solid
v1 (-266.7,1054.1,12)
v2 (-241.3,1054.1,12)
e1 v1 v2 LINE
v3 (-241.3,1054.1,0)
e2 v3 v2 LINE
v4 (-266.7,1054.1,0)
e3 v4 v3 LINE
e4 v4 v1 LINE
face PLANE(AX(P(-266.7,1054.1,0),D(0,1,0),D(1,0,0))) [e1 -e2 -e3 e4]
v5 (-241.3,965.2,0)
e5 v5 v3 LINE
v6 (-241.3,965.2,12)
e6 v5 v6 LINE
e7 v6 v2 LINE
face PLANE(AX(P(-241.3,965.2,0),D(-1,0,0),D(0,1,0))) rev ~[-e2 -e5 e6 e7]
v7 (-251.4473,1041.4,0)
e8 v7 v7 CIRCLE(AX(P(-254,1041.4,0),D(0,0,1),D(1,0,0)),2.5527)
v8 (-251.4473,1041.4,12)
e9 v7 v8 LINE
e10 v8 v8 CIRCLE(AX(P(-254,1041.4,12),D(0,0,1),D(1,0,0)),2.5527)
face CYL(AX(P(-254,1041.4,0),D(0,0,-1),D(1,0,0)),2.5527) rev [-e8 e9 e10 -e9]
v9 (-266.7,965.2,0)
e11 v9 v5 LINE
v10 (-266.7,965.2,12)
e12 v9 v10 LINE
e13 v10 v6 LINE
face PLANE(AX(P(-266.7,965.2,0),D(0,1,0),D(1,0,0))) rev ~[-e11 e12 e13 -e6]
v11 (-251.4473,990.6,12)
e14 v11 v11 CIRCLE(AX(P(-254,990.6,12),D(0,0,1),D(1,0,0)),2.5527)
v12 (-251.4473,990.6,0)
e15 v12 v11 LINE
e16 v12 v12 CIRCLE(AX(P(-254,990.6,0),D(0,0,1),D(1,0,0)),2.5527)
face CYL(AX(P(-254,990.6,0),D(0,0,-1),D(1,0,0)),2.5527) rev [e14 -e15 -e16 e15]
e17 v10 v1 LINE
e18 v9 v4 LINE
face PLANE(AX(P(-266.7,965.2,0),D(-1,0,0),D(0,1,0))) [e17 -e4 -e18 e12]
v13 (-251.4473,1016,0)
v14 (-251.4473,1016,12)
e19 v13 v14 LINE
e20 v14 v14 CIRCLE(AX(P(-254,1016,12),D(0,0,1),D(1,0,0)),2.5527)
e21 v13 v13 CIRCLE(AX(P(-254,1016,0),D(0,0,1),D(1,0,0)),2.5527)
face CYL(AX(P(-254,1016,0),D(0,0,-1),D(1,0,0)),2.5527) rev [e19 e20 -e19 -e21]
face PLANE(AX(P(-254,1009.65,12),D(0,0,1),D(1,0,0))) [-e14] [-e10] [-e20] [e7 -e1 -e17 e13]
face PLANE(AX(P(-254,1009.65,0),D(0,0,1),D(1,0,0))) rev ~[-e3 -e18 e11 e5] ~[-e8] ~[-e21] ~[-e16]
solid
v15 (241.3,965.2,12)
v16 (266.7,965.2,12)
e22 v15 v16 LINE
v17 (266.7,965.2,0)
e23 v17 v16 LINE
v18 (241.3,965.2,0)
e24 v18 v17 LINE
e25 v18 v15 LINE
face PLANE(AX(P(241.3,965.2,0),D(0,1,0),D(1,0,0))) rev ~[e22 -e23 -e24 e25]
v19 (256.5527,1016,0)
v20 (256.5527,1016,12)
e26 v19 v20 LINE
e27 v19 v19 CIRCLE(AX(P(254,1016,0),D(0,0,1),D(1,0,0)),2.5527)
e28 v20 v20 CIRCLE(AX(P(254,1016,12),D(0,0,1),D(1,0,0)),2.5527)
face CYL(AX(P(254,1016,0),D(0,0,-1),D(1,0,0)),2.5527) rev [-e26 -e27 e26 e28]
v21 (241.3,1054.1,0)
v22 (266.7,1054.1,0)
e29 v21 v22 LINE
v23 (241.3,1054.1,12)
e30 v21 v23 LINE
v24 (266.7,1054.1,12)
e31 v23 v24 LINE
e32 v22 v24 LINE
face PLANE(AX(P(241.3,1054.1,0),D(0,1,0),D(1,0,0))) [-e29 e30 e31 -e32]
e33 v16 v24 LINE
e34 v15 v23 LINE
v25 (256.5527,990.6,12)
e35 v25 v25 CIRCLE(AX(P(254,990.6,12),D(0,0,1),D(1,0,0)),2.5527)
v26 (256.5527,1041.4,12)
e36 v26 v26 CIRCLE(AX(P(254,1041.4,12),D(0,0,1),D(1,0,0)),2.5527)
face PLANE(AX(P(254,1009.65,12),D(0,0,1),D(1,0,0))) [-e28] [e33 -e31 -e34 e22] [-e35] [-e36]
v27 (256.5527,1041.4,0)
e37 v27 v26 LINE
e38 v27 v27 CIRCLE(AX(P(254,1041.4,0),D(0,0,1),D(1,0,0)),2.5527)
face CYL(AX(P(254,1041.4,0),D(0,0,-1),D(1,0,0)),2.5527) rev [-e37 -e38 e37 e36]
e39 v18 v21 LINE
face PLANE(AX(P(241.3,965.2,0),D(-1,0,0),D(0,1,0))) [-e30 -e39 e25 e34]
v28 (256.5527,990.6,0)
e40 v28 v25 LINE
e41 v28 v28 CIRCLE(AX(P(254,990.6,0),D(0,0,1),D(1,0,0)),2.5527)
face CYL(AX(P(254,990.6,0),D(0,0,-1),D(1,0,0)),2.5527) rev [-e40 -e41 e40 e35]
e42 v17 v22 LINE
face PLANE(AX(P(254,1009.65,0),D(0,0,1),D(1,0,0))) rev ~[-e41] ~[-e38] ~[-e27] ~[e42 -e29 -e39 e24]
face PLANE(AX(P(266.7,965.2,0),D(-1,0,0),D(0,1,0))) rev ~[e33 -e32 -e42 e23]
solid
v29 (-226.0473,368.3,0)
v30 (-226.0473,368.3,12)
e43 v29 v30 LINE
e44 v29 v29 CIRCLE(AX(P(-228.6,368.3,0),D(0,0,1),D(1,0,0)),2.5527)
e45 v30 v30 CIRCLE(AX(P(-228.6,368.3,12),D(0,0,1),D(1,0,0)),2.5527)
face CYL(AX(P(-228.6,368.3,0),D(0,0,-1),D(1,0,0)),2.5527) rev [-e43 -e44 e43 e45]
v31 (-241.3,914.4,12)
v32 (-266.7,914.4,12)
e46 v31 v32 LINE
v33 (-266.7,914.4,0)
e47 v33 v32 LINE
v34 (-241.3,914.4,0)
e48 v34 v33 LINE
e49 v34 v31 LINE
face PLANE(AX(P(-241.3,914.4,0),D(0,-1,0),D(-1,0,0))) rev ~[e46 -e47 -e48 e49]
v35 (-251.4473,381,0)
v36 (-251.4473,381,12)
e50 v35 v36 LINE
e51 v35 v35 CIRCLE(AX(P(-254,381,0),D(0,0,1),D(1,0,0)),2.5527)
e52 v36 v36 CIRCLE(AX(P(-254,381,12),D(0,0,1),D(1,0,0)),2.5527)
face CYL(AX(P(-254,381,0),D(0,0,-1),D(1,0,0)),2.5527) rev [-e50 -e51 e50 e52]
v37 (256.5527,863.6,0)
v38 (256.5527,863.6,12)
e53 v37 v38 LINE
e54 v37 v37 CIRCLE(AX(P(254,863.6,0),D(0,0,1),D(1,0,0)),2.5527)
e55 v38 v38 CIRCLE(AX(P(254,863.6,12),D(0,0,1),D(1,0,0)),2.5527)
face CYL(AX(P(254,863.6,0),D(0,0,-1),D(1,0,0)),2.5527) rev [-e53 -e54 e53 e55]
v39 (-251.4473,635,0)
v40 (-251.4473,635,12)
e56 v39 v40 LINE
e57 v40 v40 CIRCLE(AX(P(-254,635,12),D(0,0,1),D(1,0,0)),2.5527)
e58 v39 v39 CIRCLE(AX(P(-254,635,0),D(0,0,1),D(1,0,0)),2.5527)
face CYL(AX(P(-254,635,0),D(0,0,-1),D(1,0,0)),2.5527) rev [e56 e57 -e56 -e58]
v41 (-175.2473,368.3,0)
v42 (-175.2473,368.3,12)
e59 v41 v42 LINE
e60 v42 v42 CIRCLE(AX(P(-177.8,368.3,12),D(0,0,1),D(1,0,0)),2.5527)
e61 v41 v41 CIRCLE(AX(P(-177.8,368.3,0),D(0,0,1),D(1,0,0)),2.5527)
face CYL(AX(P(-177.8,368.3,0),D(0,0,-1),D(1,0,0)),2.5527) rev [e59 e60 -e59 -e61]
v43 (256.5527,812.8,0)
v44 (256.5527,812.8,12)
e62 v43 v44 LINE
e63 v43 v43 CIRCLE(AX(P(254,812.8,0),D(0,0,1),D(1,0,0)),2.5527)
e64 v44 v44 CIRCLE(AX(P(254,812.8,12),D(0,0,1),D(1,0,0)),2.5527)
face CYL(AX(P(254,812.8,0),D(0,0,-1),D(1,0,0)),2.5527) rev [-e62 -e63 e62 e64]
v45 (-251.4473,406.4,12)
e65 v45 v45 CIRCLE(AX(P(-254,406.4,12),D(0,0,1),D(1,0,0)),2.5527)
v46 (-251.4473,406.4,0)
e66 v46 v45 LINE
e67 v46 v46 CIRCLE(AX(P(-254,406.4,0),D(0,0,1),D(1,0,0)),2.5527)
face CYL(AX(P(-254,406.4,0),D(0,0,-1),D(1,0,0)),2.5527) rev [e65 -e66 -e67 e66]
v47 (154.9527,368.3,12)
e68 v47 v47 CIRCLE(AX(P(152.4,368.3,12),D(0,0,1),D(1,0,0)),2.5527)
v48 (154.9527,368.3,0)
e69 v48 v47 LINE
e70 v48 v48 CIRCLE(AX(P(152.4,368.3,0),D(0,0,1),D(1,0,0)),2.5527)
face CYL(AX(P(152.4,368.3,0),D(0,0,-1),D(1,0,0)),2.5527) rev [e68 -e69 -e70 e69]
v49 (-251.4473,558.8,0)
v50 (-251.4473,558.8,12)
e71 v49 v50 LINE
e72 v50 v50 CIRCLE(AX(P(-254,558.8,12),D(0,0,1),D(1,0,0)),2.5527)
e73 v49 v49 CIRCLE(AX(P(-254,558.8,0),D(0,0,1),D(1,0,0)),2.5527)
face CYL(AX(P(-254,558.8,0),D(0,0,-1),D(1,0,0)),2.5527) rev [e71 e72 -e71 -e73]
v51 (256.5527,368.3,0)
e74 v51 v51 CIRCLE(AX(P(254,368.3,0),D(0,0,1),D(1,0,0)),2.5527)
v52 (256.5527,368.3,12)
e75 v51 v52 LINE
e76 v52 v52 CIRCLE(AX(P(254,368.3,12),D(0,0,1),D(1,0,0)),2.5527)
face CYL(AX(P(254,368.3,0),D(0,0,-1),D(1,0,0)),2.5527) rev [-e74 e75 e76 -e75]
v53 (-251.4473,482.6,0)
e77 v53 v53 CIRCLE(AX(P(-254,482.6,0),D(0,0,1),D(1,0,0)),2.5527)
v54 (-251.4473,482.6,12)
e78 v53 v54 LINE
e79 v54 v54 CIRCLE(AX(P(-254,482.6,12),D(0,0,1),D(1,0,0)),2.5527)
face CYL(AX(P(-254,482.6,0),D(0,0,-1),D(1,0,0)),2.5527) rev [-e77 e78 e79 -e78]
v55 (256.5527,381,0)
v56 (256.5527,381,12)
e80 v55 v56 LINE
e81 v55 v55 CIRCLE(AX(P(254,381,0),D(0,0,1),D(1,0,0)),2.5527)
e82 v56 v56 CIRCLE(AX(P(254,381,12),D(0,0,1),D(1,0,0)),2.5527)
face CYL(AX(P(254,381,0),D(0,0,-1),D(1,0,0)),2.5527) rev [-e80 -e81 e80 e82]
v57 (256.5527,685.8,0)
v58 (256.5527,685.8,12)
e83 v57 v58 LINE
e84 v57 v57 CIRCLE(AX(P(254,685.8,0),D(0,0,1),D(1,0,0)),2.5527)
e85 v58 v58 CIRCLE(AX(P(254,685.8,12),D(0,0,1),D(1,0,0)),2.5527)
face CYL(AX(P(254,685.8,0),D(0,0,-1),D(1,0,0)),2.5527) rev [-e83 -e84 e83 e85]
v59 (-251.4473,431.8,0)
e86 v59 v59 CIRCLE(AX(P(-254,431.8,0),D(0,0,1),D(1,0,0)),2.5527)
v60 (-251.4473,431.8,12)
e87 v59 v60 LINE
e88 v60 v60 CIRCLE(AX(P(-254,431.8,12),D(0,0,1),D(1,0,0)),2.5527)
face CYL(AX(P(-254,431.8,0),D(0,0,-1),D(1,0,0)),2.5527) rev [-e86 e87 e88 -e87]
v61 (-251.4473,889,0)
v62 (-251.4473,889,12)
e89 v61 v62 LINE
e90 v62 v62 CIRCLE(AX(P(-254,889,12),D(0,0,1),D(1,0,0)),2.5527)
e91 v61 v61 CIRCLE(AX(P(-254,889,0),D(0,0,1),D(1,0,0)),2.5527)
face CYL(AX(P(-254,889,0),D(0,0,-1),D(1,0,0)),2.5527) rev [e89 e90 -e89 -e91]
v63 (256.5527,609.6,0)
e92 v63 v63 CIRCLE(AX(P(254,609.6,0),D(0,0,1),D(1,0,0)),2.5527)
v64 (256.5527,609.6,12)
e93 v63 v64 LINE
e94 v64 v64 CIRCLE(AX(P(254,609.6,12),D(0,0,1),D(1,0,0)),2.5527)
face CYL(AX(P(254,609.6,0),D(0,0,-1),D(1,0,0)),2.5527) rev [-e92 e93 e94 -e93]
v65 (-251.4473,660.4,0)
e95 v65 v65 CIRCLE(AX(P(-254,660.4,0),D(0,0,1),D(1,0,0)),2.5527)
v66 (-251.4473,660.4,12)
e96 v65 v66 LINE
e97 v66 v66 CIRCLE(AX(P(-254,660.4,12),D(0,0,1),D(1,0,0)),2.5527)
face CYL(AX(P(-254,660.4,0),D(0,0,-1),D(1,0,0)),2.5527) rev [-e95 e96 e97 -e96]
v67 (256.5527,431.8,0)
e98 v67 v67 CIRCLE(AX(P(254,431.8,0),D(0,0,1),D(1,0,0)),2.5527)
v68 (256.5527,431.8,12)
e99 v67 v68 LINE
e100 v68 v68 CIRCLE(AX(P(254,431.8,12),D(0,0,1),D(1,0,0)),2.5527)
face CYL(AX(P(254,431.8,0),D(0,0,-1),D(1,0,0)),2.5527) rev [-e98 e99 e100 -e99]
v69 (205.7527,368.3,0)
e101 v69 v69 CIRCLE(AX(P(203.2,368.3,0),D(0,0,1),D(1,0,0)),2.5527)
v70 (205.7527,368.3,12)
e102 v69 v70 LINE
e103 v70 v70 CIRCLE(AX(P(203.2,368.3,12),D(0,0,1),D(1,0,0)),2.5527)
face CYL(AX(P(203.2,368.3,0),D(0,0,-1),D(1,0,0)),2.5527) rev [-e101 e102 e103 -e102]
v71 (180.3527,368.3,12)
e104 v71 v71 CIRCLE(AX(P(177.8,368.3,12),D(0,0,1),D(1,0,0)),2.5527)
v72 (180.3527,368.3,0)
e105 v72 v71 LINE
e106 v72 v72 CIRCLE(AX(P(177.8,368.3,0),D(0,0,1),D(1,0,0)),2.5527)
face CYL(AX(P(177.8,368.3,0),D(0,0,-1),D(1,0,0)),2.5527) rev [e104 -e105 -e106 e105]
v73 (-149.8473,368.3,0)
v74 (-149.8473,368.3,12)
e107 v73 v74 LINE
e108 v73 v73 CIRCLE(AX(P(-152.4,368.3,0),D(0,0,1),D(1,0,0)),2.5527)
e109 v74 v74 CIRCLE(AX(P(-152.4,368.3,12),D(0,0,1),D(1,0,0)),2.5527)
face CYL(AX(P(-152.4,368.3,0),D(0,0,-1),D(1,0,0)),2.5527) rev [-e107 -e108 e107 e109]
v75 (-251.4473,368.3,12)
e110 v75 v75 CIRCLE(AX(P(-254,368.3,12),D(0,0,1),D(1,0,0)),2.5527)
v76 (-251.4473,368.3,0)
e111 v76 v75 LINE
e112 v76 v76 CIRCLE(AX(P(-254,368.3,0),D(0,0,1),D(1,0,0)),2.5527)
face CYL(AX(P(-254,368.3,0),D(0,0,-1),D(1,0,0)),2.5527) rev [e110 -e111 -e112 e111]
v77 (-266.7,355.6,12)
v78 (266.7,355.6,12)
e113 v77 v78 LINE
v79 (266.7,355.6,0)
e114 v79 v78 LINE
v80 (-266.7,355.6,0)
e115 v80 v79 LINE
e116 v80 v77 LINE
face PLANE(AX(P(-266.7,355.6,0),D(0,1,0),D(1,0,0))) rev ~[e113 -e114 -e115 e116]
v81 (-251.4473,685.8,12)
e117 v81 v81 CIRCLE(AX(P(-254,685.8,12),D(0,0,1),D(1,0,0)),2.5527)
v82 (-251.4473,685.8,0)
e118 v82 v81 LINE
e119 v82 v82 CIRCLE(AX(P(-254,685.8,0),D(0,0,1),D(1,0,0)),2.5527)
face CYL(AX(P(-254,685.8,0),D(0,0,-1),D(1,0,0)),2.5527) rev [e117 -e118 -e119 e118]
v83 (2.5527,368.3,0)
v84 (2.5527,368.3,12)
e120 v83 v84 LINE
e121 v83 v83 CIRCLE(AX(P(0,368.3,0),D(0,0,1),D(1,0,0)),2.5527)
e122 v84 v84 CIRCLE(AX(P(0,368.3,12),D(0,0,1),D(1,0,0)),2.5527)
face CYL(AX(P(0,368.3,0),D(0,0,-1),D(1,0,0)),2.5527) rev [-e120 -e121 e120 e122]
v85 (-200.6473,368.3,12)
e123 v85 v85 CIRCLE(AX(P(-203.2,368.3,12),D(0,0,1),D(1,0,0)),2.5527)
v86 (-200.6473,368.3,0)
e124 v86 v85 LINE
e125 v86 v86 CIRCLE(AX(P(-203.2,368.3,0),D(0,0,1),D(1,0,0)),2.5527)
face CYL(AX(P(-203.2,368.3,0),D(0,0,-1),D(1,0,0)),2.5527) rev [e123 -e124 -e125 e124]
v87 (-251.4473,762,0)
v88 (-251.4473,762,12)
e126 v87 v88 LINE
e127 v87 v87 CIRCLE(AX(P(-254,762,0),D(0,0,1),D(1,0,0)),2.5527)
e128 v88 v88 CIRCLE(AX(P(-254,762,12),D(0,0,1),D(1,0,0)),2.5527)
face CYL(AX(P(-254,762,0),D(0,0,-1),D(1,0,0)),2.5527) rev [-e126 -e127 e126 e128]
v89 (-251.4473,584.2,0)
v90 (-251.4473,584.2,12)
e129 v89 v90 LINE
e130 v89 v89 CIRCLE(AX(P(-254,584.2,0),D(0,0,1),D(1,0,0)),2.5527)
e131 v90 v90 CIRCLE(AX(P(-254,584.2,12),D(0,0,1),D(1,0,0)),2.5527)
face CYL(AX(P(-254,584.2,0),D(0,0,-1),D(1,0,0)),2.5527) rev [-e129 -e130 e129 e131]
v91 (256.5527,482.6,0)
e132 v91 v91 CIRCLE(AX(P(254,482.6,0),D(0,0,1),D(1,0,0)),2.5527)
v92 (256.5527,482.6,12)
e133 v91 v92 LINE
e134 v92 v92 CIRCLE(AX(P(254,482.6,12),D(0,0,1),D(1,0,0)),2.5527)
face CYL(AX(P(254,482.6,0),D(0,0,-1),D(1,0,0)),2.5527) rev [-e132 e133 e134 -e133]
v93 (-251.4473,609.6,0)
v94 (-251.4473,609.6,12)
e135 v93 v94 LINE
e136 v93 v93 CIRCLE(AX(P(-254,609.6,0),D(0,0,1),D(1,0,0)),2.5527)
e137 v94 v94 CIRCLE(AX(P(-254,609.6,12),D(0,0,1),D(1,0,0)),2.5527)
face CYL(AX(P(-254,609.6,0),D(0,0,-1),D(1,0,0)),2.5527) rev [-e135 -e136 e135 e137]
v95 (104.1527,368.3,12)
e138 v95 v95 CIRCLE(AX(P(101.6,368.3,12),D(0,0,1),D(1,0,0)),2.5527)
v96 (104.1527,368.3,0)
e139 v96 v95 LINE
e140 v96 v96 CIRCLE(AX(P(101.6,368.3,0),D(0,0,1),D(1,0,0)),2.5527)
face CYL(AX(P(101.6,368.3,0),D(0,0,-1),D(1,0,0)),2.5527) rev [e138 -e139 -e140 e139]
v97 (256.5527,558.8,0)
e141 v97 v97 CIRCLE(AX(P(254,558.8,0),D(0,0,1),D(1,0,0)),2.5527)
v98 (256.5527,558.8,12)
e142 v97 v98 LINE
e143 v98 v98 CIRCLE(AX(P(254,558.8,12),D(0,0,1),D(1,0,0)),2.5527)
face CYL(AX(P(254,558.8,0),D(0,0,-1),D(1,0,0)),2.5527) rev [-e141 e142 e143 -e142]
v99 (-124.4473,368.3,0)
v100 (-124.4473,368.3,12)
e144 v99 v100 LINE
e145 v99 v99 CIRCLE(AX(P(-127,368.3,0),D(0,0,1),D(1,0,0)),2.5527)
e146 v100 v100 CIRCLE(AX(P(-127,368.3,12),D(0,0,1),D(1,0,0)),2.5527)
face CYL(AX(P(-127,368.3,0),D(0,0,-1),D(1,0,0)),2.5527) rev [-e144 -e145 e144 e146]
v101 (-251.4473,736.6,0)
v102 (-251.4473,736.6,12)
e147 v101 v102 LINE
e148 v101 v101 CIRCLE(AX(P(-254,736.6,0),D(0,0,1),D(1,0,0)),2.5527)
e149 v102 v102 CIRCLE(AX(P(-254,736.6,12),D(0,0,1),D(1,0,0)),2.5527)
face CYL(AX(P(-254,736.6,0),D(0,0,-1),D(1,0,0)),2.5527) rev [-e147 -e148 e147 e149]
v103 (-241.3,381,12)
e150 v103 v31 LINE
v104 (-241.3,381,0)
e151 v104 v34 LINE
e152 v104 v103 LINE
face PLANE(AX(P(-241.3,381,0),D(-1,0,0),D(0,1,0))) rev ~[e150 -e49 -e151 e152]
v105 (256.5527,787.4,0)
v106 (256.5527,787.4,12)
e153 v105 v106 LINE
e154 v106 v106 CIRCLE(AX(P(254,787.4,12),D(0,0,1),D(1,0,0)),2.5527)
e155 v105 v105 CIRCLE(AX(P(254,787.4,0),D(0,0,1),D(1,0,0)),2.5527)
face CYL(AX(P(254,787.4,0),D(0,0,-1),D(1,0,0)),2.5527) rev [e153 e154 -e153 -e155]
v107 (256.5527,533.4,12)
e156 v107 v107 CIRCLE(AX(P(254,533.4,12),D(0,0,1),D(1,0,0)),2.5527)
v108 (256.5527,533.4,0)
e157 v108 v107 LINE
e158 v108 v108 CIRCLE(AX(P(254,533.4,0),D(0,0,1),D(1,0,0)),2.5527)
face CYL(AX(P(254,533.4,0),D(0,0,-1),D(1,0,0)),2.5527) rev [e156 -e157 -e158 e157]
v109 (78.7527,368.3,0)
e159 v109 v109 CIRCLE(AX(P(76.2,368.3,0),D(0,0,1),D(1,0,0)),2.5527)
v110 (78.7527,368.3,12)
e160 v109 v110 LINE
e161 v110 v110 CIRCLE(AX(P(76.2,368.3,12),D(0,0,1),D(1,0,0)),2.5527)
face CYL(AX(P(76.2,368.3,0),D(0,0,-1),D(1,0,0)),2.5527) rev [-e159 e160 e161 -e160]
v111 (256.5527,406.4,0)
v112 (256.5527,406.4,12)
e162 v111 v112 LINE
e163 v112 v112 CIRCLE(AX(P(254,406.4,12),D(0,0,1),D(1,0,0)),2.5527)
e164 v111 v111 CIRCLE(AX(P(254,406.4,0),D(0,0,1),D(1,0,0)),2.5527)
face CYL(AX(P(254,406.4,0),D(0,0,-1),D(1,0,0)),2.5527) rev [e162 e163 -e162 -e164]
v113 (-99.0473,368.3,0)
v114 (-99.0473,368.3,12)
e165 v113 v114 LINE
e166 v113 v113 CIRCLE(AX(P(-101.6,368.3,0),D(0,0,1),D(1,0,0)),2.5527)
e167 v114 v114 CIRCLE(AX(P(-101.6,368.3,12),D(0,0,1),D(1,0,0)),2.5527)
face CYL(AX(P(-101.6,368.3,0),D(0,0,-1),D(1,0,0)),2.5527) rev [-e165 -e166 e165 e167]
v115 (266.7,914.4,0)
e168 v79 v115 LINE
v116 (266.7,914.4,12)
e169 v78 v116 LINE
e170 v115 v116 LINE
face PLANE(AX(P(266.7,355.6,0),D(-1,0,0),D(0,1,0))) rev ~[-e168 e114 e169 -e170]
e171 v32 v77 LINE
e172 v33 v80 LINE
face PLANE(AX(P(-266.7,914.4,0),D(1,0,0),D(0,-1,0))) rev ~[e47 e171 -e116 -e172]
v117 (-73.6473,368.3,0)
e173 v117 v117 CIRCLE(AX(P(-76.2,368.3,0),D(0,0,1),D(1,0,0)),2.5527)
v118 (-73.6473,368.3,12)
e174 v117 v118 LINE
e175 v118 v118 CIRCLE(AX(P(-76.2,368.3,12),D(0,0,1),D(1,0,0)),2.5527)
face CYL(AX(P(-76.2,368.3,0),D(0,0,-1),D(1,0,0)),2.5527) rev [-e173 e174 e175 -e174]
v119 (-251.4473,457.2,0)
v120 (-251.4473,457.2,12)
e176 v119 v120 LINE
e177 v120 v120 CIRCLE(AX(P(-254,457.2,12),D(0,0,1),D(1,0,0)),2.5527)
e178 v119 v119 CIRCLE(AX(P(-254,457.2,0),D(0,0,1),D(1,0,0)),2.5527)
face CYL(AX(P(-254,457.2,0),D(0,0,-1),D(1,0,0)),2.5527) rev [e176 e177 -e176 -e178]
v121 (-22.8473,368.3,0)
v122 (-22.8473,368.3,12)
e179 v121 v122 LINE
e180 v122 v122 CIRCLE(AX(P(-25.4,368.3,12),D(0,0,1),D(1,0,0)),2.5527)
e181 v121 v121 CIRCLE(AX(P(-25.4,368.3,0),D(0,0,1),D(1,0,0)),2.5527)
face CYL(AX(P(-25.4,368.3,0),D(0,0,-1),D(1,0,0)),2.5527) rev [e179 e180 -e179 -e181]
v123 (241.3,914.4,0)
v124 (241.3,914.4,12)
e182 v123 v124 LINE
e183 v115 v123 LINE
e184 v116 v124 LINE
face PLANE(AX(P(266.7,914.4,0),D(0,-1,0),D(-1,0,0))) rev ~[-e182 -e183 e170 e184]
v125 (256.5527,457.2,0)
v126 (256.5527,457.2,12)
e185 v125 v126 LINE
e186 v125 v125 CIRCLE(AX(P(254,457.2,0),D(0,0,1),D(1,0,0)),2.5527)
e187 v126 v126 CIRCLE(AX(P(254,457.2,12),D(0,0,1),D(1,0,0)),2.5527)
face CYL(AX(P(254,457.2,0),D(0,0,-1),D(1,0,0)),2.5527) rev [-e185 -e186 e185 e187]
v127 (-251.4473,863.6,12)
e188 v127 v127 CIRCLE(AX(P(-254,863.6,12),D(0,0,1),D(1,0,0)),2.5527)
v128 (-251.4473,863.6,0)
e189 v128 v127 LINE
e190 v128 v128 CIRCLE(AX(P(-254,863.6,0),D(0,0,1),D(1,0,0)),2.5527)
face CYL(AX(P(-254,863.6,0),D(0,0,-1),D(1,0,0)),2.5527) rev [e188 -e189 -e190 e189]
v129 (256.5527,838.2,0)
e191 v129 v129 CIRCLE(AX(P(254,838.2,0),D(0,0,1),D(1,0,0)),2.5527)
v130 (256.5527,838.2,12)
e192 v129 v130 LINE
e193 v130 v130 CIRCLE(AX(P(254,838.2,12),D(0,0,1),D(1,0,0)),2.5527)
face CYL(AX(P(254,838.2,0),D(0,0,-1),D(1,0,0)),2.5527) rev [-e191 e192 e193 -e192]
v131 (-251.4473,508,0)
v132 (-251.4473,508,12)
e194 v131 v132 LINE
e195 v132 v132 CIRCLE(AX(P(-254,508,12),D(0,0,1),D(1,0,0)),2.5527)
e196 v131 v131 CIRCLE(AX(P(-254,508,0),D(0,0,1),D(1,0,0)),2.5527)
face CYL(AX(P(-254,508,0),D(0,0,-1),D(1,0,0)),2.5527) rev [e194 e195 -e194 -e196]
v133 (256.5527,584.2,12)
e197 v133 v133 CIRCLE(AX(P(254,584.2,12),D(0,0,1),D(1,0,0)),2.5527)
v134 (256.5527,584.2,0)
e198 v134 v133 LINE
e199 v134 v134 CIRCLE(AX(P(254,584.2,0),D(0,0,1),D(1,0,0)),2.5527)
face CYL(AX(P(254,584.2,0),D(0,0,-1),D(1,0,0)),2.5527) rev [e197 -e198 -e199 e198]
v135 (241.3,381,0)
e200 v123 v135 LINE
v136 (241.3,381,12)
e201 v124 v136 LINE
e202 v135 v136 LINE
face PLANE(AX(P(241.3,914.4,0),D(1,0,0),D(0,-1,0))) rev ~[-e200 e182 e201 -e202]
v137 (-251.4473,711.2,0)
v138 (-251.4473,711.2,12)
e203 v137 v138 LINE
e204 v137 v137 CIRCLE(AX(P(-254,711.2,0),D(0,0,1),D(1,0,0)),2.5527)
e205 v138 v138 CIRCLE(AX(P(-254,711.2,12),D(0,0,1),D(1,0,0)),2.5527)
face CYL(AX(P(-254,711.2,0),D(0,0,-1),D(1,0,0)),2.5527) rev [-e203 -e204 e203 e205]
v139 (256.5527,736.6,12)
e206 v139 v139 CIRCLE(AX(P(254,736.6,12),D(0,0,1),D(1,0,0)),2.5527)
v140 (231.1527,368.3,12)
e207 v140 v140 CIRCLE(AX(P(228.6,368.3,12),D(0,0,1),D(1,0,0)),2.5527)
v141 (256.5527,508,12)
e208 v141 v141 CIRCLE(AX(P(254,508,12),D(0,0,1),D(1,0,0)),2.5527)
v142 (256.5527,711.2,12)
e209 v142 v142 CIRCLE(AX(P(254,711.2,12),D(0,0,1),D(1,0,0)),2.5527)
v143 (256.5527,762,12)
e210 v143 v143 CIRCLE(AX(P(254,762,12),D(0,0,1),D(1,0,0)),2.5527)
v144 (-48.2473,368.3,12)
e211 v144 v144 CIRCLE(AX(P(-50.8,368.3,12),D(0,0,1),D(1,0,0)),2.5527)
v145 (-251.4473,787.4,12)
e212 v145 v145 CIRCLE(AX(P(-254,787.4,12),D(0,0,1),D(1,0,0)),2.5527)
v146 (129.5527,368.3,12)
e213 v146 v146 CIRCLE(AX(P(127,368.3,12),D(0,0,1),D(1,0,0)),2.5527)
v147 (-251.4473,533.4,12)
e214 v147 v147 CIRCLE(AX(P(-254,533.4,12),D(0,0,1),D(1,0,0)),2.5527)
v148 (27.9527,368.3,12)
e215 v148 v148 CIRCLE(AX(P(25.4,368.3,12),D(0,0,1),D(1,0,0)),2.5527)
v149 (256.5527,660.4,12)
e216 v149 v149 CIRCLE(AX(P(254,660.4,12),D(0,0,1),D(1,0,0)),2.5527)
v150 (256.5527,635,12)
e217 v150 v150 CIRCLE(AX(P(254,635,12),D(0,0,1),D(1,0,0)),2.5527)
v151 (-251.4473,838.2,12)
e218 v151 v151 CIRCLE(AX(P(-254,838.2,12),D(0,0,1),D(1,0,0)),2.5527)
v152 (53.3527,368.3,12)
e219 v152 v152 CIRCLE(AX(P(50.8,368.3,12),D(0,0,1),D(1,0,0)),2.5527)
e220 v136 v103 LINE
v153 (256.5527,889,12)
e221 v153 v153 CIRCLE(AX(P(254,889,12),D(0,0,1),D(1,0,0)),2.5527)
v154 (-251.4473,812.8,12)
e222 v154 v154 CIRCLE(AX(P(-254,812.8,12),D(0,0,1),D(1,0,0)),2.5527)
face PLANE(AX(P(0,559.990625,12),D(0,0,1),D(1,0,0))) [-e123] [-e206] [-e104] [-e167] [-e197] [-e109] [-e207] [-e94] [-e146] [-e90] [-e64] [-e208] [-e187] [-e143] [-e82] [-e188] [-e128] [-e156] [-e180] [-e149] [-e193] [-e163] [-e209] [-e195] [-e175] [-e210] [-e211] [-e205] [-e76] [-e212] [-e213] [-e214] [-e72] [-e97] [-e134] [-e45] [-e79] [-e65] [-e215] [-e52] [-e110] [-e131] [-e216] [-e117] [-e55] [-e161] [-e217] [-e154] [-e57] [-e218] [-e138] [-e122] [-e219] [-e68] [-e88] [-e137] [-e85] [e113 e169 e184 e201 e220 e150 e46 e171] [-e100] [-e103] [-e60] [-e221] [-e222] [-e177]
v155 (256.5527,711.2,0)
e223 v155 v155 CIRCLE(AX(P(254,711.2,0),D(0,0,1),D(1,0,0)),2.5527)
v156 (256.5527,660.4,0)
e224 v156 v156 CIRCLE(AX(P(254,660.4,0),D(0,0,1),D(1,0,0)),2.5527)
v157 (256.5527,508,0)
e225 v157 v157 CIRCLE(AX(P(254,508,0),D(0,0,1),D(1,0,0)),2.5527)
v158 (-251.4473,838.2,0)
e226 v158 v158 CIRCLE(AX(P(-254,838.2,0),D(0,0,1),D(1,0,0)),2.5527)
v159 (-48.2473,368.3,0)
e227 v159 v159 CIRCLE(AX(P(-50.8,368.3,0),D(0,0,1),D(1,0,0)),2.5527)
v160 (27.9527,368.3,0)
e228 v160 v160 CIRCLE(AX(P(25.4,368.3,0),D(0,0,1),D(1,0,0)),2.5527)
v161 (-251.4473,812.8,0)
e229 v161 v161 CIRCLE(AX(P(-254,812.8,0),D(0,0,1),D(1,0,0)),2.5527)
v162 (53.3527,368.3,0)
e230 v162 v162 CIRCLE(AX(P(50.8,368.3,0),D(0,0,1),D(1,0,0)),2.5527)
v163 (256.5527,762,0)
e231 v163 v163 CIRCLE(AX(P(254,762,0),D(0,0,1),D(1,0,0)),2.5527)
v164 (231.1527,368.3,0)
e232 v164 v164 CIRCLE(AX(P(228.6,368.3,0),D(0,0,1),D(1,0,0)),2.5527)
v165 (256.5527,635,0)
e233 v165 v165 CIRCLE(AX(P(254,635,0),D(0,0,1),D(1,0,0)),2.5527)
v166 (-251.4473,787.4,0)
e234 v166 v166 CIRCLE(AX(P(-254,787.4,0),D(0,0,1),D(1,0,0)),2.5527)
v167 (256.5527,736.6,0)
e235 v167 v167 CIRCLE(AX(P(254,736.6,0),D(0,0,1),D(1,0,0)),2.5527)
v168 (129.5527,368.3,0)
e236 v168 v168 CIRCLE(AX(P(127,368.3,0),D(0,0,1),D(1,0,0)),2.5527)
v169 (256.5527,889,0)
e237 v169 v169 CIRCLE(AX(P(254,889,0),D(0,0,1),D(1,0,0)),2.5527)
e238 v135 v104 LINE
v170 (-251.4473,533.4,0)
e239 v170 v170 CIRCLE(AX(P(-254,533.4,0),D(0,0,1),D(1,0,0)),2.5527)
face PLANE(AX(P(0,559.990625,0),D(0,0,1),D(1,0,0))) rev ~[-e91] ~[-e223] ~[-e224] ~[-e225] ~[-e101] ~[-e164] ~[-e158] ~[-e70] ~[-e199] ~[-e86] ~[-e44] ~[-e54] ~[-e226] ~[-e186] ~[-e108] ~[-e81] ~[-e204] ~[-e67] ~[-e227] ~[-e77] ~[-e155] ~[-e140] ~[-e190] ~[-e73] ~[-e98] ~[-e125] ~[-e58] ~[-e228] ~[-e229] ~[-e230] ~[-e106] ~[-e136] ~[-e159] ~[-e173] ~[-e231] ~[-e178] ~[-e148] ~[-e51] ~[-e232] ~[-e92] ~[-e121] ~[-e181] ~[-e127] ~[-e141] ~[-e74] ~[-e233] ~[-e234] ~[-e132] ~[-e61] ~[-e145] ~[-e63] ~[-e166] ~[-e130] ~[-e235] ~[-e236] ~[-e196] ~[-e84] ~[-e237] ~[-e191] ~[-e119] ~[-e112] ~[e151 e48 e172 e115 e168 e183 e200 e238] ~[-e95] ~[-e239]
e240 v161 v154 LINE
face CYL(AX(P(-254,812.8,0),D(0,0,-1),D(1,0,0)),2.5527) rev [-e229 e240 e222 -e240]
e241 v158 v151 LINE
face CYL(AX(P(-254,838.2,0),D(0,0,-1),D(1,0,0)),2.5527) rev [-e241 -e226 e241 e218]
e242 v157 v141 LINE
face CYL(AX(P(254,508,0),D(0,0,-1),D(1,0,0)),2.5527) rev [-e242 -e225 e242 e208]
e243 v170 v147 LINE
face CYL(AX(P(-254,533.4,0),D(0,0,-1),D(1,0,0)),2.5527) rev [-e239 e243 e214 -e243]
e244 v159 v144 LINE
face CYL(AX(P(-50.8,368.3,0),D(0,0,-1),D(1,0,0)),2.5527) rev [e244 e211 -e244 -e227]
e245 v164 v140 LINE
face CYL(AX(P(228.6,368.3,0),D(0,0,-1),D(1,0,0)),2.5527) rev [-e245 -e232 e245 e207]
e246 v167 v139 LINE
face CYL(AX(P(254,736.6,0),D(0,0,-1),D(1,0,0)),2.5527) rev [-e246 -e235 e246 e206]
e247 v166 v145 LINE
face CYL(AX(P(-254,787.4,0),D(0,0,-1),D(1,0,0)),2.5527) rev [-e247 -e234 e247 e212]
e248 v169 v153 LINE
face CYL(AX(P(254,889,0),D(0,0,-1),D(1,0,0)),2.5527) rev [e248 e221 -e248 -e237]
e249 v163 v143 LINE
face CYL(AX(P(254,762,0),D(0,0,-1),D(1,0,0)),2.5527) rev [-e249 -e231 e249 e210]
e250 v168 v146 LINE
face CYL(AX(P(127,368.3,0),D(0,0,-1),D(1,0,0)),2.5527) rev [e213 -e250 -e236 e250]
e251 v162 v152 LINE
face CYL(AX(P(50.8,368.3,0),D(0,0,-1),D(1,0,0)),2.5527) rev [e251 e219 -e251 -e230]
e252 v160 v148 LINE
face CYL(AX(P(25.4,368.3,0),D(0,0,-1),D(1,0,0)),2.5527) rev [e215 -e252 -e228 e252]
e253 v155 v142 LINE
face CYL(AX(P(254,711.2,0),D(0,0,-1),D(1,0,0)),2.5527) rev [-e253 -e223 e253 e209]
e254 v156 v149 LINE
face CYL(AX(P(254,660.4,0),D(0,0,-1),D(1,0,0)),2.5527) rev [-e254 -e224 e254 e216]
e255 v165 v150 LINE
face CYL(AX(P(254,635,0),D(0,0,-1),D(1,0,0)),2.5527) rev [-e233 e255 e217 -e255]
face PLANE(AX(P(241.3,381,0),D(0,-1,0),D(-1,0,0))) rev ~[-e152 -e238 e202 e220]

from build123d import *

# Parameters (mm, degrees)
F0_W     = 25.4
F0_H     = 88.9
F0_R     = 2.5527
F1_DEPTH = 12


with BuildPart() as f1:
    # F0 (on Top) → F1 (new body)
    with BuildSketch(Plane.XY):
        with Locations((-254, 1009.65)):
            Rectangle(F0_W, F0_H)
        with Locations((-254, 990.6)):
            Circle(F0_R, mode=Mode.SUBTRACT)
        with Locations((-254, 1016)):
            Circle(F0_R, mode=Mode.SUBTRACT)
        with Locations((-254, 1041.4)):
            Circle(F0_R, mode=Mode.SUBTRACT)
        with Locations((254, 1009.65)):
            Rectangle(F0_W, F0_H)
        with Locations((254, 990.6)):
            Circle(F0_R, mode=Mode.SUBTRACT)
        with Locations((254, 1016)):
            Circle(F0_R, mode=Mode.SUBTRACT)
        with Locations((254, 1041.4)):
            Circle(F0_R, mode=Mode.SUBTRACT)
        Polygon((-241.3, 914.4), (-266.7, 914.4), (-266.7, 355.6), (266.7, 355.6), (266.7, 914.4), (241.3, 914.4), (241.3, 381), (-241.3, 381), align=None)
        with Locations((-254, 368.3)):
            Circle(F0_R, mode=Mode.SUBTRACT)
        with Locations((-254, 381)):
            Circle(F0_R, mode=Mode.SUBTRACT)
        with Locations((-254, 406.4)):
            Circle(F0_R, mode=Mode.SUBTRACT)
        with Locations((-228.6, 368.3)):
            Circle(F0_R, mode=Mode.SUBTRACT)
        with Locations((-203.2, 368.3)):
            Circle(F0_R, mode=Mode.SUBTRACT)
        with Locations((-177.8, 368.3)):
            Circle(F0_R, mode=Mode.SUBTRACT)
        with Locations((-254, 431.8)):
            Circle(F0_R, mode=Mode.SUBTRACT)
        with Locations((-254, 457.2)):
            Circle(F0_R, mode=Mode.SUBTRACT)
        with Locations((-254, 482.6)):
            Circle(F0_R, mode=Mode.SUBTRACT)
        with Locations((-152.4, 368.3)):
            Circle(F0_R, mode=Mode.SUBTRACT)
        with Locations((-127, 368.3)):
            Circle(F0_R, mode=Mode.SUBTRACT)
        with Locations((-101.6, 368.3)):
            Circle(F0_R, mode=Mode.SUBTRACT)
        with Locations((-76.2, 368.3)):
            Circle(F0_R, mode=Mode.SUBTRACT)
        with Locations((-50.8, 368.3)):
            Circle(F0_R, mode=Mode.SUBTRACT)
        with Locations((-25.4, 368.3)):
            Circle(F0_R, mode=Mode.SUBTRACT)
        with Locations((-254, 508)):
            Circle(F0_R, mode=Mode.SUBTRACT)
        with Locations((-254, 533.4)):
            Circle(F0_R, mode=Mode.SUBTRACT)
        with Locations((-254, 558.8)):
            Circle(F0_R, mode=Mode.SUBTRACT)
        with Locations((-254, 584.2)):
            Circle(F0_R, mode=Mode.SUBTRACT)
        with Locations((-254, 609.6)):
            Circle(F0_R, mode=Mode.SUBTRACT)
        with Locations((-254, 635)):
            Circle(F0_R, mode=Mode.SUBTRACT)
        with Locations((-254, 660.4)):
            Circle(F0_R, mode=Mode.SUBTRACT)
        with Locations((-254, 685.8)):
            Circle(F0_R, mode=Mode.SUBTRACT)
        with Locations((0, 368.3)):
            Circle(F0_R, mode=Mode.SUBTRACT)
        with Locations((25.4, 368.3)):
            Circle(F0_R, mode=Mode.SUBTRACT)
        with Locations((50.8, 368.3)):
            Circle(F0_R, mode=Mode.SUBTRACT)
        with Locations((76.2, 368.3)):
            Circle(F0_R, mode=Mode.SUBTRACT)
        with Locations((101.6, 368.3)):
            Circle(F0_R, mode=Mode.SUBTRACT)
        with Locations((127, 368.3)):
            Circle(F0_R, mode=Mode.SUBTRACT)
        with Locations((152.4, 368.3)):
            Circle(F0_R, mode=Mode.SUBTRACT)
        with Locations((177.8, 368.3)):
            Circle(F0_R, mode=Mode.SUBTRACT)
        with Locations((203.2, 368.3)):
            Circle(F0_R, mode=Mode.SUBTRACT)
        with Locations((228.6, 368.3)):
            Circle(F0_R, mode=Mode.SUBTRACT)
        with Locations((254, 368.3)):
            Circle(F0_R, mode=Mode.SUBTRACT)
        with Locations((254, 381)):
            Circle(F0_R, mode=Mode.SUBTRACT)
        with Locations((254, 406.4)):
            Circle(F0_R, mode=Mode.SUBTRACT)
        with Locations((254, 431.8)):
            Circle(F0_R, mode=Mode.SUBTRACT)
        with Locations((254, 457.2)):
            Circle(F0_R, mode=Mode.SUBTRACT)
        with Locations((254, 482.6)):
            Circle(F0_R, mode=Mode.SUBTRACT)
        with Locations((254, 508)):
            Circle(F0_R, mode=Mode.SUBTRACT)
        with Locations((254, 533.4)):
            Circle(F0_R, mode=Mode.SUBTRACT)
        with Locations((254, 558.8)):
            Circle(F0_R, mode=Mode.SUBTRACT)
        with Locations((254, 584.2)):
            Circle(F0_R, mode=Mode.SUBTRACT)
        with Locations((254, 609.6)):
            Circle(F0_R, mode=Mode.SUBTRACT)
        with Locations((254, 635)):
            Circle(F0_R, mode=Mode.SUBTRACT)
        with Locations((254, 660.4)):
            Circle(F0_R, mode=Mode.SUBTRACT)
        with Locations((254, 685.8)):
            Circle(F0_R, mode=Mode.SUBTRACT)
        with Locations((-254, 711.2)):
            Circle(F0_R, mode=Mode.SUBTRACT)
        with Locations((-254, 736.6)):
            Circle(F0_R, mode=Mode.SUBTRACT)
        with Locations((-254, 762)):
            Circle(F0_R, mode=Mode.SUBTRACT)
        with Locations((-254, 787.4)):
            Circle(F0_R, mode=Mode.SUBTRACT)
        with Locations((-254, 812.8)):
            Circle(F0_R, mode=Mode.SUBTRACT)
        with Locations((-254, 838.2)):
            Circle(F0_R, mode=Mode.SUBTRACT)
        with Locations((-254, 863.6)):
            Circle(F0_R, mode=Mode.SUBTRACT)
        with Locations((-254, 889)):
            Circle(F0_R, mode=Mode.SUBTRACT)
        with Locations((254, 711.2)):
            Circle(F0_R, mode=Mode.SUBTRACT)
        with Locations((254, 736.6)):
            Circle(F0_R, mode=Mode.SUBTRACT)
        with Locations((254, 762)):
            Circle(F0_R, mode=Mode.SUBTRACT)
        with Locations((254, 787.4)):
            Circle(F0_R, mode=Mode.SUBTRACT)
        with Locations((254, 812.8)):
            Circle(F0_R, mode=Mode.SUBTRACT)
        with Locations((254, 838.2)):
            Circle(F0_R, mode=Mode.SUBTRACT)
        with Locations((254, 863.6)):
            Circle(F0_R, mode=Mode.SUBTRACT)
        with Locations((254, 889)):
            Circle(F0_R, mode=Mode.SUBTRACT)
    extrude(amount=F1_DEPTH)


solid = f1.part
